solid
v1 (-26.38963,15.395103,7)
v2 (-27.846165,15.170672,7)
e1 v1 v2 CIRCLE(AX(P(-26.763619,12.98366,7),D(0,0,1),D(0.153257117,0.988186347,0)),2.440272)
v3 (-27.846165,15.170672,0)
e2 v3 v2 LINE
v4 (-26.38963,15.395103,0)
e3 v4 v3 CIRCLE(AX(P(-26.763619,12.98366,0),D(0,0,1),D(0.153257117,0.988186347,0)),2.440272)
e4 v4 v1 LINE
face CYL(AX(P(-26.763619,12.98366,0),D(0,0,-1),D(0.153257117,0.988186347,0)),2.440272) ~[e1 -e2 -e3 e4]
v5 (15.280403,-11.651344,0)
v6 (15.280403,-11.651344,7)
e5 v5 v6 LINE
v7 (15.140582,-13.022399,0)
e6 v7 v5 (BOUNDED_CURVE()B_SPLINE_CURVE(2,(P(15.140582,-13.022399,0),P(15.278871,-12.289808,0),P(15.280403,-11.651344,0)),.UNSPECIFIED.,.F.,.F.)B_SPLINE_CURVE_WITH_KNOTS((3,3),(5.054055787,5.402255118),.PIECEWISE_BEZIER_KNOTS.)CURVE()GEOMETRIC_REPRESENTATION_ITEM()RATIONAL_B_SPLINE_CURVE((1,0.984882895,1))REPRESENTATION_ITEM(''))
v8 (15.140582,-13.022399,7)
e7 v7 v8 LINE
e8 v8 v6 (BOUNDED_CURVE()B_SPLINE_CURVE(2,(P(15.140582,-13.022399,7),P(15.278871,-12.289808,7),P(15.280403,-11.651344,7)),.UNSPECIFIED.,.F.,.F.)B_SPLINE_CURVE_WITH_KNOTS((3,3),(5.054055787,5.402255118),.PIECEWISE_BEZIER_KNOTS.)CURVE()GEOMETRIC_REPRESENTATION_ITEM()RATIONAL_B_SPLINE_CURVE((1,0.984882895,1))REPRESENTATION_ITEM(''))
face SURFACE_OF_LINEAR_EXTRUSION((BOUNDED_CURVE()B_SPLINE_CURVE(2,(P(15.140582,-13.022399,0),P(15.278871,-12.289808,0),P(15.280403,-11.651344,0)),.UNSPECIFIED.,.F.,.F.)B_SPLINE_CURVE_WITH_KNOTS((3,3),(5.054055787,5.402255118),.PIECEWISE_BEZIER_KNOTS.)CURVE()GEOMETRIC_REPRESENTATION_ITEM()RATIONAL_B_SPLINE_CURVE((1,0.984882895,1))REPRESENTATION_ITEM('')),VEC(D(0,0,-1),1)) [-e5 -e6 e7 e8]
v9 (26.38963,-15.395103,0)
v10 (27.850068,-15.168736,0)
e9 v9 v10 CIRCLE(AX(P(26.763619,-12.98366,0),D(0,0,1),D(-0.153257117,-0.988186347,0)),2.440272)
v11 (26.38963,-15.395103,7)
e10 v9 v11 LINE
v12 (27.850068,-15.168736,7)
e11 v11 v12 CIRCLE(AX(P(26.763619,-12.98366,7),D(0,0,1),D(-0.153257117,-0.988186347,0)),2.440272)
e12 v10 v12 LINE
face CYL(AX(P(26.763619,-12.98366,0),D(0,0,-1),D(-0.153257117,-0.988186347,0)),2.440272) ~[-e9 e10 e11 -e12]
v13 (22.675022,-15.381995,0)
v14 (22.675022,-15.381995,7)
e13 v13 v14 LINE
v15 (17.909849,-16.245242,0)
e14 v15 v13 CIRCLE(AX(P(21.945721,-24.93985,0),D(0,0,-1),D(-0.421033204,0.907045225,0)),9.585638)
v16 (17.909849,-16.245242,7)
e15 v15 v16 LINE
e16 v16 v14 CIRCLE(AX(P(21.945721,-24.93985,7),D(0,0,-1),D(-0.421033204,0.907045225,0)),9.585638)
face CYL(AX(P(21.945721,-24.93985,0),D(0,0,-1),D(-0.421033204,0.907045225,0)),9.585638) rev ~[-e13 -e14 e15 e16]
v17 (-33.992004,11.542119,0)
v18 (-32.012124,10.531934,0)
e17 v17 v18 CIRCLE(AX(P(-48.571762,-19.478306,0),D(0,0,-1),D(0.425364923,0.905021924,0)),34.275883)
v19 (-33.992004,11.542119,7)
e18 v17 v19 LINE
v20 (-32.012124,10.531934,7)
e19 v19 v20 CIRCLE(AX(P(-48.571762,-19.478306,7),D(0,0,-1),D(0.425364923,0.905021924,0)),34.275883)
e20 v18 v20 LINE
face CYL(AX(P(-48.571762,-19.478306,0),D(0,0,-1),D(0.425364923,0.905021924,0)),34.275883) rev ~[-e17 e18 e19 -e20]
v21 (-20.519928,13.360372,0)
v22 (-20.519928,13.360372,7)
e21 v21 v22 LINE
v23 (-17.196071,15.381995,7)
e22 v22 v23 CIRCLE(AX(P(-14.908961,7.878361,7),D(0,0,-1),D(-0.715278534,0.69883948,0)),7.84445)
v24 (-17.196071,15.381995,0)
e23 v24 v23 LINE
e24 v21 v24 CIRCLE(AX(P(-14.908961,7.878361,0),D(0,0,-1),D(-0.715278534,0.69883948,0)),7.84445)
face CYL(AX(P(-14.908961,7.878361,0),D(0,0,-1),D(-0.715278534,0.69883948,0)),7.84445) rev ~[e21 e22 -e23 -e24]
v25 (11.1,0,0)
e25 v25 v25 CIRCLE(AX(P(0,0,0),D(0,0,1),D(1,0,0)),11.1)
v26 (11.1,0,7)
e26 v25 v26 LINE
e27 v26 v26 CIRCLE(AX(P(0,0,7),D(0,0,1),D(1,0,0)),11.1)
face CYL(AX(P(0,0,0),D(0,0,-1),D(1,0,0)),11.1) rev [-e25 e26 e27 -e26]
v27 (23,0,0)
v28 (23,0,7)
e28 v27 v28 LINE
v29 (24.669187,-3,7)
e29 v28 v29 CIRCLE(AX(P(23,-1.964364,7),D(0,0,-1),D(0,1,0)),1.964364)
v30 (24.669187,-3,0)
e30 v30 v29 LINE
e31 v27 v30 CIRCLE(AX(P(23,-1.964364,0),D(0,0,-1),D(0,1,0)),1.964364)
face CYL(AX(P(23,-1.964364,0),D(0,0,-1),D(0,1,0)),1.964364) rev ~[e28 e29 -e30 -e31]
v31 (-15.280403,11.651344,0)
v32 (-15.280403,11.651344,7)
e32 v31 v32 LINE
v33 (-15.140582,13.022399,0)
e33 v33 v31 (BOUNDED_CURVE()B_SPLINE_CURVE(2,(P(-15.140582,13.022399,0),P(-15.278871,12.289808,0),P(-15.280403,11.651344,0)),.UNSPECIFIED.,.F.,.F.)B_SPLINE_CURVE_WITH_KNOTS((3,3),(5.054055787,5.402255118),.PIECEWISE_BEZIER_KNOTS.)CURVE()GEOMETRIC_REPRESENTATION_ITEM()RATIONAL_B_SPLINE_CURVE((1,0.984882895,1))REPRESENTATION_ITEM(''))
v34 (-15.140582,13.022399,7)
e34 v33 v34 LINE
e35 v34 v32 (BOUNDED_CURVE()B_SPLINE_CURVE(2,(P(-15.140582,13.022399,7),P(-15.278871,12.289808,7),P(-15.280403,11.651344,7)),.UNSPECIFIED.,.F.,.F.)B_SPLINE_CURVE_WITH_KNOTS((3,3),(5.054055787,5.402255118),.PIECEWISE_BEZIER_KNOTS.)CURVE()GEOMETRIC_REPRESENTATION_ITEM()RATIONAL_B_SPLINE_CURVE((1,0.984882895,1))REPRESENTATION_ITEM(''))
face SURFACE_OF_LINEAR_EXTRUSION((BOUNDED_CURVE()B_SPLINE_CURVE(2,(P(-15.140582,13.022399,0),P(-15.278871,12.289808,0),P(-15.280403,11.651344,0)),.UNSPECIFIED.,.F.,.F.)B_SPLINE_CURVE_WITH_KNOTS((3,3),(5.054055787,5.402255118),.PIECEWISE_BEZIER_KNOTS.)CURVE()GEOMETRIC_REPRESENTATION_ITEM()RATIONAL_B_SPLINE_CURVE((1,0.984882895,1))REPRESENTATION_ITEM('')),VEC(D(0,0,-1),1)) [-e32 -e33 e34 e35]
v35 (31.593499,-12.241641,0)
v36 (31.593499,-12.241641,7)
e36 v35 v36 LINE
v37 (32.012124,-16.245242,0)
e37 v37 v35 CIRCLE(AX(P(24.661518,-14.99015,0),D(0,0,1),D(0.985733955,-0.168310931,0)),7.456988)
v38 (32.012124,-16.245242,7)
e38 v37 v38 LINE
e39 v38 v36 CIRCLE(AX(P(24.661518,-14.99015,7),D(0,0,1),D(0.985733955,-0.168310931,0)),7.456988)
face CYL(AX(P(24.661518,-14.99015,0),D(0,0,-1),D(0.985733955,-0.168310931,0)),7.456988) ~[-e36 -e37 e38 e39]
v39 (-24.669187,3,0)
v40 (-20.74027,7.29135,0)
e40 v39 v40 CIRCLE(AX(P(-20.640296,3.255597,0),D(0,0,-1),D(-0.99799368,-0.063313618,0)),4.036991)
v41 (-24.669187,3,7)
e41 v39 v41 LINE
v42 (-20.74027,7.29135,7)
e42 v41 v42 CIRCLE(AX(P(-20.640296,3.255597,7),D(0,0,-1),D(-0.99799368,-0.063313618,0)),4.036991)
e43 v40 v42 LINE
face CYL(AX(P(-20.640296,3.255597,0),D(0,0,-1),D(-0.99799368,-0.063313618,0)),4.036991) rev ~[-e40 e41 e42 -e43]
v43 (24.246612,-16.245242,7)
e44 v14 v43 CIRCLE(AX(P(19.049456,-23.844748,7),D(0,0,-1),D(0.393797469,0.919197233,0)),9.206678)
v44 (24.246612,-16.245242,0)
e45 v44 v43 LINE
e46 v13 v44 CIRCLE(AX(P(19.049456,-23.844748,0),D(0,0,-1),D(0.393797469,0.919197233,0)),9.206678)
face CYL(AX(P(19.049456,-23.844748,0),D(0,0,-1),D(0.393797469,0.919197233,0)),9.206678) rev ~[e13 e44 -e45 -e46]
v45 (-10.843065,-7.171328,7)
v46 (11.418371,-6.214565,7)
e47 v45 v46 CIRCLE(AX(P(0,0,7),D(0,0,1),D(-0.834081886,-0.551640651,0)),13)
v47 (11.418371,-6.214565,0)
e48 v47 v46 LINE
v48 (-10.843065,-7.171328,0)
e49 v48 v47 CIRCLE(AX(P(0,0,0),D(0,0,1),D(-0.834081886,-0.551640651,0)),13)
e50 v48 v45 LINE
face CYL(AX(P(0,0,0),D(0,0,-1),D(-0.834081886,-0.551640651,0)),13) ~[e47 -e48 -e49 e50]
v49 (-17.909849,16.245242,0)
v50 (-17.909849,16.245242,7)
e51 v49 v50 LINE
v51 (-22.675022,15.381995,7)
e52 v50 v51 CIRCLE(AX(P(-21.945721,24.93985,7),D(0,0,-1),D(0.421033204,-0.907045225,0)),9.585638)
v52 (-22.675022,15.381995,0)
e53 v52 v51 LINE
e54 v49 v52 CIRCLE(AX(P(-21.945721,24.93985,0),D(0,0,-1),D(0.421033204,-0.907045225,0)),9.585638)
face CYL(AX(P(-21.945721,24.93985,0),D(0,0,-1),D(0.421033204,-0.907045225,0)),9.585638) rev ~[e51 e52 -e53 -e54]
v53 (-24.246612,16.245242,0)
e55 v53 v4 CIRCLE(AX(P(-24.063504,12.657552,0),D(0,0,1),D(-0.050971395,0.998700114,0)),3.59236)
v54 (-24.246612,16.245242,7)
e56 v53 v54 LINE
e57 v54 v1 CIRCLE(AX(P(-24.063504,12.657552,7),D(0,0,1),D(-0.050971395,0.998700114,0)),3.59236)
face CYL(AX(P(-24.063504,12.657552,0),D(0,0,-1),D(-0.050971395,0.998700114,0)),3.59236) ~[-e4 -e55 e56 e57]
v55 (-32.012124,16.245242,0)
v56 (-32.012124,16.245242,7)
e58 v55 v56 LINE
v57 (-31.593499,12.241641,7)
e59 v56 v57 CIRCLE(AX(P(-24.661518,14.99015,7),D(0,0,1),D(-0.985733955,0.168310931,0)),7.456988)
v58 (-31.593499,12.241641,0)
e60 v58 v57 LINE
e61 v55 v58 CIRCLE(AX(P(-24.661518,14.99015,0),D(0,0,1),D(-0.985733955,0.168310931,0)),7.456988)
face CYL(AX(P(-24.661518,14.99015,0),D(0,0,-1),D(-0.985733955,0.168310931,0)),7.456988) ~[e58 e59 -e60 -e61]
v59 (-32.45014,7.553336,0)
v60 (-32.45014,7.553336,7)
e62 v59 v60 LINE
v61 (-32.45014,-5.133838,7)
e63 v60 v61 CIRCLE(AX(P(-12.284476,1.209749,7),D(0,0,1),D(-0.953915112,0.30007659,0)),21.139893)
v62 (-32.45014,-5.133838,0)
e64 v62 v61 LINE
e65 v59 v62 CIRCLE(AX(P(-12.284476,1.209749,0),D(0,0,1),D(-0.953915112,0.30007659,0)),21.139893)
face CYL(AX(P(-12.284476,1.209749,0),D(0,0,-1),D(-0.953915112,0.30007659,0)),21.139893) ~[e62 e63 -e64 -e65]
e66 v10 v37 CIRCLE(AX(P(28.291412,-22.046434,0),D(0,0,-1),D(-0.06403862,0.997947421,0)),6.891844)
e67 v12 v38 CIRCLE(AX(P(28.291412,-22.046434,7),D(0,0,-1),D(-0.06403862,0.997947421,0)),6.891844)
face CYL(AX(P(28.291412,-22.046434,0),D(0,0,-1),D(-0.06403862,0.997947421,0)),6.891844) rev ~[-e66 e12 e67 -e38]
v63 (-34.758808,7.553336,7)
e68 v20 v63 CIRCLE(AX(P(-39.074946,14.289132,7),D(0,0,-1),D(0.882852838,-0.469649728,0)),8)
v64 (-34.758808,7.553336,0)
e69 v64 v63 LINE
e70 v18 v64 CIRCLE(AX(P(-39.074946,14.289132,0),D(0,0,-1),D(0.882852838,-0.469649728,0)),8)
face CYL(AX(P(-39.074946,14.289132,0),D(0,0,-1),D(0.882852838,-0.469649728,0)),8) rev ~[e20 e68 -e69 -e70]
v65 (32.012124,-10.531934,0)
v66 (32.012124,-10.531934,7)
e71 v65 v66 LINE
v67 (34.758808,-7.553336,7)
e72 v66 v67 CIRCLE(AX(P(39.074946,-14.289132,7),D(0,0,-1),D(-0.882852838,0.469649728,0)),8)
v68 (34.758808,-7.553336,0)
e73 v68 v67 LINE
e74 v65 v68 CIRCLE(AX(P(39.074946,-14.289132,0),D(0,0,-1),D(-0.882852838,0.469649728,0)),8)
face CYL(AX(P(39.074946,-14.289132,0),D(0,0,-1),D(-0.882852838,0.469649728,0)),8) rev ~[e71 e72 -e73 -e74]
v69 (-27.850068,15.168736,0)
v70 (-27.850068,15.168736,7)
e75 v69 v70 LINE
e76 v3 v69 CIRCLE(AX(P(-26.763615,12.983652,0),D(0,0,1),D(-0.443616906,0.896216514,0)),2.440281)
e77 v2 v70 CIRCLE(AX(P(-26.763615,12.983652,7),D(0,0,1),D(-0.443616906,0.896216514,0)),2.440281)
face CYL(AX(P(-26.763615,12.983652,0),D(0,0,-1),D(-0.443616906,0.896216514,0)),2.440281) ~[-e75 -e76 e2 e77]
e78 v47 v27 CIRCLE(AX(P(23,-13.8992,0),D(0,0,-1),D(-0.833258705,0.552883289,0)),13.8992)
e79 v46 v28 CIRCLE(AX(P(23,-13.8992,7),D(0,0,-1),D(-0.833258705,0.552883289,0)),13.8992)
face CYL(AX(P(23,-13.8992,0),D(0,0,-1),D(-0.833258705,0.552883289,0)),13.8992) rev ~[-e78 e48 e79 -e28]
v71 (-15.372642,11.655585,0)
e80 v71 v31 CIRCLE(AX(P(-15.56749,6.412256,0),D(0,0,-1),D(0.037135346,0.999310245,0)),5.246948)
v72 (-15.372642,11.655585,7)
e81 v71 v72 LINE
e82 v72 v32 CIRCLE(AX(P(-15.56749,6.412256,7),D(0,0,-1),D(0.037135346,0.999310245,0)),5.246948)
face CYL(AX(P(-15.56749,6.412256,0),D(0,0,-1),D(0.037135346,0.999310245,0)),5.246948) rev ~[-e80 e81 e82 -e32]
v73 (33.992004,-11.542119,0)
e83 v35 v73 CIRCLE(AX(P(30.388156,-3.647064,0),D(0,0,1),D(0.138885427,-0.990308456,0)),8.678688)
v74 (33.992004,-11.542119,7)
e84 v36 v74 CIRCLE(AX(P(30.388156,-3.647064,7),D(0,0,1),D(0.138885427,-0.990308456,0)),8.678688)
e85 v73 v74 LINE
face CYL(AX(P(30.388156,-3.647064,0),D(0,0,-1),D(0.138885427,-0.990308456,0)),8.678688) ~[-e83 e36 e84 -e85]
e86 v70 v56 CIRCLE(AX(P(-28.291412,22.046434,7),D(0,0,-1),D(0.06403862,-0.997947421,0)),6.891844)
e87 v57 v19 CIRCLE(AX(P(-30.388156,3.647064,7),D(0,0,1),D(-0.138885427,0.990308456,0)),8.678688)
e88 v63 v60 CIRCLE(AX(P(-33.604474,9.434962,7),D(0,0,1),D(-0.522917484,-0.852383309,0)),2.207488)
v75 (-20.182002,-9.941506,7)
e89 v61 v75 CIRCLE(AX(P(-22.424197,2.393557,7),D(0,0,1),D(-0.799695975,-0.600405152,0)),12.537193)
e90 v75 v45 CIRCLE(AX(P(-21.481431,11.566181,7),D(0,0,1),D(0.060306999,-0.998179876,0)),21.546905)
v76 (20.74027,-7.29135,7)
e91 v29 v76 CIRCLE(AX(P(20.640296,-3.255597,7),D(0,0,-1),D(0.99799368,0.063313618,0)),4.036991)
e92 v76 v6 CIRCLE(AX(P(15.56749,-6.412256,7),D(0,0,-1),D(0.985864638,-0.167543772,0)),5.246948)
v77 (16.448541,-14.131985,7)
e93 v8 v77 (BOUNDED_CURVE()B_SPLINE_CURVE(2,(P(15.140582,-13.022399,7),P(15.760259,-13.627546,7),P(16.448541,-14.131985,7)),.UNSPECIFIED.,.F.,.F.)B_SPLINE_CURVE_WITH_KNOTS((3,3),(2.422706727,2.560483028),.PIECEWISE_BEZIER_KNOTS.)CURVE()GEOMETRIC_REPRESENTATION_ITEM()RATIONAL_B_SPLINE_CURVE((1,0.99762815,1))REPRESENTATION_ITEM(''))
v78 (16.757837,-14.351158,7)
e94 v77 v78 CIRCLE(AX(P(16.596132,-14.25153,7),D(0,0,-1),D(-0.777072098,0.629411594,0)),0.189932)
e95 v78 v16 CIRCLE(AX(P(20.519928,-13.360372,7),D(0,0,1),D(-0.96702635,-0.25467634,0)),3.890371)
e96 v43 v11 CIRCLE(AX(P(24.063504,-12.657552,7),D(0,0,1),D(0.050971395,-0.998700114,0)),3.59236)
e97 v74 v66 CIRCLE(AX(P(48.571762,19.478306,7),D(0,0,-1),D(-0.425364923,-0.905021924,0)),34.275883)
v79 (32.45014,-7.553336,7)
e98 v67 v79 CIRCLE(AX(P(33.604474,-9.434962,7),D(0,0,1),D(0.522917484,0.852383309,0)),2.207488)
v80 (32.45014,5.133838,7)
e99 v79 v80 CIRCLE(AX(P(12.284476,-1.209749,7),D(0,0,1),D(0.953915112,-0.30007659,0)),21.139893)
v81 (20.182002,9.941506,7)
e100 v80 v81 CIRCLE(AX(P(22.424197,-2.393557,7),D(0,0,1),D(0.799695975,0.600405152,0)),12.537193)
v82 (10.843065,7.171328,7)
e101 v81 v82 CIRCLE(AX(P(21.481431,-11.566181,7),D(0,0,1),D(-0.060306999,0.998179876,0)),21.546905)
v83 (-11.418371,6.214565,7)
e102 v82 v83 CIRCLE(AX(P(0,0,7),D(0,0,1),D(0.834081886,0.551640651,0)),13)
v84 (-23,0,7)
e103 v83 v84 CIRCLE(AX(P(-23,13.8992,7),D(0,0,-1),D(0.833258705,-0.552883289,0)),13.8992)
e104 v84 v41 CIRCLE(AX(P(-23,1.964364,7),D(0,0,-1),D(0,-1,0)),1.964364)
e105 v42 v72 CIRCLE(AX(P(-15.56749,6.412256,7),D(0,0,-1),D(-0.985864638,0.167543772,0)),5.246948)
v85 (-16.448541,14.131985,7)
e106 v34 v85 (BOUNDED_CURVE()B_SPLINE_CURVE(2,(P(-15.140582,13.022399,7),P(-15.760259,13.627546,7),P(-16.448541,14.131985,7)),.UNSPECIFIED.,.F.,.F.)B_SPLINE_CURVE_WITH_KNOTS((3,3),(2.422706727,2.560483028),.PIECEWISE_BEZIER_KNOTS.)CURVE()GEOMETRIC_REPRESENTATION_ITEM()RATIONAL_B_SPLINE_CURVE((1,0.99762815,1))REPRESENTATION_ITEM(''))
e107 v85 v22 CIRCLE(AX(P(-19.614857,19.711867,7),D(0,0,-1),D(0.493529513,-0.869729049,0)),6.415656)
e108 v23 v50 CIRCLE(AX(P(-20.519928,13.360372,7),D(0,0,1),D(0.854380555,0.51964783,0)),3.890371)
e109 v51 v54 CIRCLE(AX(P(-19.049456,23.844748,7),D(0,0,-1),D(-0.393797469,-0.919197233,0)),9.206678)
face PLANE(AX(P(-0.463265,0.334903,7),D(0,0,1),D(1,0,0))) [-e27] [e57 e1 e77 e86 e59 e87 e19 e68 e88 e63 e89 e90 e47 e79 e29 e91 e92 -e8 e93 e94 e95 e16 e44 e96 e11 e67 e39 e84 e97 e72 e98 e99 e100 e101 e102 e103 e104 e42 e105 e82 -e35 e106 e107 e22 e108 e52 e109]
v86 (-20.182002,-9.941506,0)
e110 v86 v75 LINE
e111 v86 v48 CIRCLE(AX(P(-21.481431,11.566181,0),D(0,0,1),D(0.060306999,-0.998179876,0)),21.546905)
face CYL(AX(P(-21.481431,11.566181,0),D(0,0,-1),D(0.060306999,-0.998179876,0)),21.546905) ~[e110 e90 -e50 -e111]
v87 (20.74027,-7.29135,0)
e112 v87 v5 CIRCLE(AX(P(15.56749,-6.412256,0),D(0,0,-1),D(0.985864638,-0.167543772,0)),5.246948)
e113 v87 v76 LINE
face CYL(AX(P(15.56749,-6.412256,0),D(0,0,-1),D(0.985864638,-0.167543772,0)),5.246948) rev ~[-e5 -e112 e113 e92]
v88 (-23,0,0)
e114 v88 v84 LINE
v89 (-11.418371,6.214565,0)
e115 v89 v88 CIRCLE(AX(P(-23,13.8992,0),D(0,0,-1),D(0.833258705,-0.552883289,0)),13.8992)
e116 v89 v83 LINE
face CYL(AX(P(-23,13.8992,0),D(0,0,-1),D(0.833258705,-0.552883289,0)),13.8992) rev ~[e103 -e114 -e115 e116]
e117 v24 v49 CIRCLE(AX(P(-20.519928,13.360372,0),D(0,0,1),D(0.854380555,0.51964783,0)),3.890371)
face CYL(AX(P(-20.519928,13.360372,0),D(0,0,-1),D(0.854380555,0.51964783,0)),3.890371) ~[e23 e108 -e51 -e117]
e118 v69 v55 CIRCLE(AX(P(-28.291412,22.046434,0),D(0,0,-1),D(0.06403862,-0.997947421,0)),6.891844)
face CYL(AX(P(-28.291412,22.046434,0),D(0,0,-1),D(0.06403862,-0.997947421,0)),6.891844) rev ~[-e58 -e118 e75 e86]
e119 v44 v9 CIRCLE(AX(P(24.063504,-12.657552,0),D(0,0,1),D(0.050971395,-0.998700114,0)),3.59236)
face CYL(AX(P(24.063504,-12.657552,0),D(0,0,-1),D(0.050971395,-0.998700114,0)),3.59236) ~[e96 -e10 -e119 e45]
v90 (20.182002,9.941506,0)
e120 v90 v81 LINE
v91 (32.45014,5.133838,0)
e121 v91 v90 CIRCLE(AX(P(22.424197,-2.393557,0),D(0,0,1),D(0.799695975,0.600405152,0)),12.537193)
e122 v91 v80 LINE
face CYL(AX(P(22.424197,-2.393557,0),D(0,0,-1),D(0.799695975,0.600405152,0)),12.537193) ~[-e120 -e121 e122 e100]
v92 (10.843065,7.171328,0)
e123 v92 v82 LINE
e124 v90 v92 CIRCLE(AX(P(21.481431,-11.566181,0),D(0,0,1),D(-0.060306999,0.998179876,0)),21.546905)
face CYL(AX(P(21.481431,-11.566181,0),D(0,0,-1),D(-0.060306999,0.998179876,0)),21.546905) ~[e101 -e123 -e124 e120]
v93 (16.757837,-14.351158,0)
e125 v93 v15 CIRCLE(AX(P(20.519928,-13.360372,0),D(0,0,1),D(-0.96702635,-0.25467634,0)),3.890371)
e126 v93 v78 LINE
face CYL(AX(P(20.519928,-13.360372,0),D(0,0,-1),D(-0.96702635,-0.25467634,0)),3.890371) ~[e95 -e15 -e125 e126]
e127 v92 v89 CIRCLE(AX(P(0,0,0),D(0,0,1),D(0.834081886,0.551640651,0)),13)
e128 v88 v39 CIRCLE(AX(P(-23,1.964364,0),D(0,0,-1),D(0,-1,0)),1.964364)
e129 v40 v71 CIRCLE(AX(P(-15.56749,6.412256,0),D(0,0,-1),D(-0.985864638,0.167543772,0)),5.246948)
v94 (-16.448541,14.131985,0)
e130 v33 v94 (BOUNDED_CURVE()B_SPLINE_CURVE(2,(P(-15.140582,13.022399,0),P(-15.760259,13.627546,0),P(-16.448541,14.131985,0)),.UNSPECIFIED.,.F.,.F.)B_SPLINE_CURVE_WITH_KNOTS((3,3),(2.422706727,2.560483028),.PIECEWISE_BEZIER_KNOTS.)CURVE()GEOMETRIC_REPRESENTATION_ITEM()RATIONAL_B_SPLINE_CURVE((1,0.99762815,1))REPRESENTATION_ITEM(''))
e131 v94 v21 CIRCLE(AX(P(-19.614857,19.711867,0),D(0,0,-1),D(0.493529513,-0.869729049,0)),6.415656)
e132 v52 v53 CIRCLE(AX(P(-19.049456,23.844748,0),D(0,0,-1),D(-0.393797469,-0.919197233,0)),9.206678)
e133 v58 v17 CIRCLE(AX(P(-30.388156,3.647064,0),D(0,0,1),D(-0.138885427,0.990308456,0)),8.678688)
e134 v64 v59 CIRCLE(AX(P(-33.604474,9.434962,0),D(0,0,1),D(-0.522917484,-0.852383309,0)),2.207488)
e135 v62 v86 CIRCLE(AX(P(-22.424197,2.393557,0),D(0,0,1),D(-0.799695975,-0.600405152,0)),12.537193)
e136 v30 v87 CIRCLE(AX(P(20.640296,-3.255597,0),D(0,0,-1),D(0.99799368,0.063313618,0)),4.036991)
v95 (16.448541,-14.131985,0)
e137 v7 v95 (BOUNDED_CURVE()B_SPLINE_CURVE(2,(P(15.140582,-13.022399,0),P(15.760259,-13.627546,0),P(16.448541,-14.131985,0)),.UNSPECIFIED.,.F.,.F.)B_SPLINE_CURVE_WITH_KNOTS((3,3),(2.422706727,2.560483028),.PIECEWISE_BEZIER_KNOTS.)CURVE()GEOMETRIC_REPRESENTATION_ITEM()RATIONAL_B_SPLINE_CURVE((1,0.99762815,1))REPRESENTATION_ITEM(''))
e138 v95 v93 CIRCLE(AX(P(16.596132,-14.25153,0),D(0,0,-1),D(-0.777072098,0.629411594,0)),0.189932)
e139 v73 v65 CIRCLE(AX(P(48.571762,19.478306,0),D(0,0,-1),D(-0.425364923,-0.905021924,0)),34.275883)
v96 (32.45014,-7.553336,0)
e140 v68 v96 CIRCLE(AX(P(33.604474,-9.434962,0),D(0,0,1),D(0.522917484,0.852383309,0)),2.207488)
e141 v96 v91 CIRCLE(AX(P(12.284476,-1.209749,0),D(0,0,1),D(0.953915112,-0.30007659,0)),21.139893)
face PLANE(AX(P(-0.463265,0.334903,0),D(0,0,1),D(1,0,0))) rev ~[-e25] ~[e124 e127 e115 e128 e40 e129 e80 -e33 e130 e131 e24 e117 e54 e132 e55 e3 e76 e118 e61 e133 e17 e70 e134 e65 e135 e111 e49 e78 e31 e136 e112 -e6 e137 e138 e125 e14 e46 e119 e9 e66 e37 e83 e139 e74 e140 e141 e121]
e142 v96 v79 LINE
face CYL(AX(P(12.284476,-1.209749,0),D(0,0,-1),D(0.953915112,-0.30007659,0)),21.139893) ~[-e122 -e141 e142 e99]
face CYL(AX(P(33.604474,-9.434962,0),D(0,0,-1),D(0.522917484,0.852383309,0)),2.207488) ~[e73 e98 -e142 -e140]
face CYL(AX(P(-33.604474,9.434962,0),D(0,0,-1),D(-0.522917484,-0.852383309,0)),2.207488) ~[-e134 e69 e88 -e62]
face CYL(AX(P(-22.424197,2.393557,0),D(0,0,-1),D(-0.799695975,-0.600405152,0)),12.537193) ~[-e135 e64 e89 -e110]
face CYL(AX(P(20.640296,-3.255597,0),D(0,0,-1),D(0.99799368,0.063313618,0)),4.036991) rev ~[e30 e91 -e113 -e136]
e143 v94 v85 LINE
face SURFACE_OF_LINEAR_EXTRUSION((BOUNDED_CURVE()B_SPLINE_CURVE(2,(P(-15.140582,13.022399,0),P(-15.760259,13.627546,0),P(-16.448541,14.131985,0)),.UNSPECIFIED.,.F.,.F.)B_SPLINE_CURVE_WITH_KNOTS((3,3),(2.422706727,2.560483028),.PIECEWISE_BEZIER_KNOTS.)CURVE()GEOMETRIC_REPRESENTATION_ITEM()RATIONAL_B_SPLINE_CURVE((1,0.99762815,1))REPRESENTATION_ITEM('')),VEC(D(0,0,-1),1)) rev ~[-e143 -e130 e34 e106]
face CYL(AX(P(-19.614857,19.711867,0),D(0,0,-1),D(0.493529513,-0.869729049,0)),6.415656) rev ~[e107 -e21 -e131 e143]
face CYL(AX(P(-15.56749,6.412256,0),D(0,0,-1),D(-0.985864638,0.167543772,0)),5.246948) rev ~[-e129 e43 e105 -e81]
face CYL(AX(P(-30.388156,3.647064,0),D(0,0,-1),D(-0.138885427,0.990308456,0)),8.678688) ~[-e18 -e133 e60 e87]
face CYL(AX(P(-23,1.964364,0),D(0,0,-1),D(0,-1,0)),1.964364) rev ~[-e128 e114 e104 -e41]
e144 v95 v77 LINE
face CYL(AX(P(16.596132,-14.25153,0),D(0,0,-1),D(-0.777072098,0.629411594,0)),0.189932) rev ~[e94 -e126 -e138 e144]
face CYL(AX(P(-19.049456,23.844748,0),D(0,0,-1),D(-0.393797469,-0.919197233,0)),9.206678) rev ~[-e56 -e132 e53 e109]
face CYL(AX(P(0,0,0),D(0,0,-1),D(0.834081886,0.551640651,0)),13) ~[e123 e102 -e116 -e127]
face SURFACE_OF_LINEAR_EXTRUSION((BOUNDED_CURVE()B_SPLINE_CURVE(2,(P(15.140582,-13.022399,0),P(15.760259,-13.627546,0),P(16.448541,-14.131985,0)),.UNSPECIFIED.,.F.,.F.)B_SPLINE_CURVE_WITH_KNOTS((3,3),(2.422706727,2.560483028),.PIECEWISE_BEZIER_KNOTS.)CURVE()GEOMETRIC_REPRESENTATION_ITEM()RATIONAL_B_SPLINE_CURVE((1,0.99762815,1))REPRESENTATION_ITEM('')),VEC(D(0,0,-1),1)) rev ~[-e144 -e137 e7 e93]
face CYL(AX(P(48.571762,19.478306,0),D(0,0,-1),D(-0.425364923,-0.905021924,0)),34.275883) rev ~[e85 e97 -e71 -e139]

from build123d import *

# Parameters (mm, degrees)
F0_R     = 11.1
F1_DEPTH = 7


with BuildPart() as f1:
    # F0 (on Top) → F1 (new body)
    with BuildSketch(Plane.XY):
        with BuildLine():
            ThreePointArc((-20.1820022707, -9.9415058496), (-15.3539348415, -9.091091221), (-10.8430645172, -7.1713284596))
            ThreePointArc((-10.8430645172, -7.1713284596), (0.5582056386, -12.9880101041), (11.4183705824, -6.2145646061))
            ThreePointArc((11.4183705824, -6.2145646061), (16.4281860721, -1.651791194), (23, 0))
            ThreePointArc((23, 0), (24.7165507362, -1.0092828133), (24.6691871434, -3))
            ThreePointArc((24.6691871434, -3), (23.6178456633, -5.9816728989), (20.7402704139, -7.2913495265))
            ThreePointArc((20.7402704139, -7.2913495265), (18.8416140451, -10.5123262229), (15.2804029597, -11.6513444364))
            add(Edge.make_bspline(
                [(15.1405816519, -13.0223987218), (15.2788713972, -12.2898082007), (15.2804029597, -11.6513444364)],
                knots=[5.0540557872, 5.0540557872, 5.0540557872, 5.4022551178, 5.4022551178, 5.4022551178], degree=2, weights=[1, 0.9848828954, 1]))
            add(Edge.make_bspline(
                [(15.1405816519, -13.0223987218), (15.7602589992, -13.627545907), (16.4485412205, -14.1319848698)],
                knots=[2.4227067274, 2.4227067274, 2.4227067274, 2.5604830279, 2.5604830279, 2.5604830279], degree=2, weights=[1, 0.9976281496, 1]))
            ThreePointArc((16.4485412205, -14.1319848698), (16.7059454387, -14.0965620619), (16.7578368283, -14.3511578014))
            ThreePointArc((16.7578368283, -14.3511578014), (17.1960707743, -15.3819952285), (17.9098490626, -16.2452422082))
            ThreePointArc((17.9098490626, -16.2452422082), (20.2370224114, -15.5077337484), (22.6750224829, -15.3819952285))
            ThreePointArc((22.6750224829, -15.3819952285), (23.4818826617, -15.7752677938), (24.2466118351, -16.2452422082))
            ThreePointArc((24.2466118351, -16.2452422082), (25.3881728474, -15.9967588485), (26.3896299553, -15.3951034771))
            ThreePointArc((26.3896299553, -15.3951034771), (27.1373975838, -15.3951361034), (27.8500681048, -15.1687356707))
            ThreePointArc((27.8500681048, -15.1687356707), (30.0171813338, -15.3741600066), (32.0121236145, -16.2452422082))
            ThreePointArc((32.0121236145, -16.2452422082), (32.0780721748, -14.2146599803), (31.5934991398, -12.2416413867))
            ThreePointArc((31.5934991398, -12.2416413867), (32.8180555594, -11.9786425212), (33.9920036495, -11.5421190858))
            ThreePointArc((33.9920036495, -11.5421190858), (32.9938729979, -11.0530795037), (32.0121236145, -10.5319339782))
            ThreePointArc((32.0121236145, -10.5319339782), (33.1937729386, -8.8658671292), (34.7588080404, -7.5533356057))
            ThreePointArc((34.7588080404, -7.5533356057), (33.6044737815, -7.2274734783), (32.4501395226, -7.5533356057))
            ThreePointArc((32.4501395226, -7.5533356057), (33.4243691341, -1.2097485956), (32.4501395226, 5.1338384145))
            ThreePointArc((32.4501395226, 5.1338384145), (26.9985929856, 9.2793222728), (20.1820022707, 9.9415058496))
            ThreePointArc((20.1820022707, 9.9415058496), (15.3539348415, 9.091091221), (10.8430645172, 7.1713284596))
            ThreePointArc((10.8430645172, 7.1713284596), (-0.5582056386, 12.9880101041), (-11.4183705824, 6.2145646061))
            ThreePointArc((-11.4183705824, 6.2145646061), (-16.4281860721, 1.651791194), (-23, 0))
            ThreePointArc((-23, 0), (-24.7165507362, 1.0092828133), (-24.6691871434, 3))
            ThreePointArc((-24.6691871434, 3), (-23.6178456633, 5.9816728989), (-20.7402704139, 7.2913495265))
            ThreePointArc((-20.7402704139, 7.2913495265), (-18.8775642358, 10.4833581386), (-15.3726424061, 11.6555851871))
            add(Edge.make_bspline(
                [(-15.2804029597, 11.6513444364), (-15.325524504, 11.6549876637), (-15.3726424061, 11.6555851871)],
                knots=[0.2580425601, 0.2580425601, 0.2580425601, 0.2952358655, 0.2952358655, 0.2952358655], degree=2, weights=[1, 0.9998270872, 1]))
            add(Edge.make_bspline(
                [(-15.1405816519, 13.0223987218), (-15.2788713972, 12.2898082007), (-15.2804029597, 11.6513444364)],
                knots=[5.0540557872, 5.0540557872, 5.0540557872, 5.4022551178, 5.4022551178, 5.4022551178], degree=2, weights=[1, 0.9848828954, 1]))
            add(Edge.make_bspline(
                [(-15.1405816519, 13.0223987218), (-15.7602589992, 13.627545907), (-16.4485412205, 14.1319848698)],
                knots=[2.4227067274, 2.4227067274, 2.4227067274, 2.5604830279, 2.5604830279, 2.5604830279], degree=2, weights=[1, 0.9976281496, 1]))
            ThreePointArc((-16.4485412205, 14.1319848698), (-18.4202217975, 13.4084166875), (-20.5199281941, 13.3603723279))
            ThreePointArc((-20.5199281941, 13.3603723279), (-18.985312905, 14.5805065249), (-17.1960707743, 15.3819952285))
            ThreePointArc((-17.1960707743, 15.3819952285), (-17.5217288035, 15.8394422571), (-17.9098490626, 16.2452422082))
            ThreePointArc((-17.9098490626, 16.2452422082), (-20.2370224114, 15.5077337484), (-22.6750224829, 15.3819952285))
            ThreePointArc((-22.6750224829, 15.3819952285), (-23.4818826617, 15.7752677938), (-24.2466118351, 16.2452422082))
            ThreePointArc((-24.2466118351, 16.2452422082), (-25.3881728474, 15.9967588485), (-26.3896299553, 15.3951034771))
            ThreePointArc((-26.3896299553, 15.3951034771), (-27.1352445397, 15.395468841), (-27.8461648315, 15.1706720867))
            ThreePointArc((-27.8461648315, 15.1706720867), (-27.8481169003, 15.1697047499), (-27.8500681048, 15.1687356707))
            ThreePointArc((-27.8500681048, 15.1687356707), (-30.0171813338, 15.3741600066), (-32.0121236145, 16.2452422082))
            ThreePointArc((-32.0121236145, 16.2452422082), (-32.0780721748, 14.2146599803), (-31.5934991398, 12.2416413867))
            ThreePointArc((-31.5934991398, 12.2416413867), (-32.8180555594, 11.9786425212), (-33.9920036495, 11.5421190858))
            ThreePointArc((-33.9920036495, 11.5421190858), (-32.9938729979, 11.0530795037), (-32.0121236145, 10.5319339782))
            ThreePointArc((-32.0121236145, 10.5319339782), (-33.1937729386, 8.8658671292), (-34.7588080404, 7.5533356057))
            ThreePointArc((-34.7588080404, 7.5533356057), (-33.6044737815, 7.2274734783), (-32.4501395226, 7.5533356057))
            ThreePointArc((-32.4501395226, 7.5533356057), (-33.4243691341, 1.2097485956), (-32.4501395226, -5.1338384145))
            ThreePointArc((-32.4501395226, -5.1338384145), (-26.9985929856, -9.2793222728), (-20.1820022707, -9.9415058496))
        make_face()
        Circle(F0_R, mode=Mode.SUBTRACT)
        with BuildLine():
            ThreePointArc((-15.3726424061, 11.6555851871), (-15.326513354, 11.6536677218), (-15.2804029597, 11.6513444364))
            add(Edge.make_bspline(
                [(-15.2804029597, 11.6513444364), (-15.325524504, 11.6549876637), (-15.3726424061, 11.6555851871)],
                knots=[0.2580425601, 0.2580425601, 0.2580425601, 0.2952358655, 0.2952358655, 0.2952358655], degree=2, weights=[1, 0.9998270872, 1]))
        make_face()
    extrude(amount=F1_DEPTH)


solid = f1.part
